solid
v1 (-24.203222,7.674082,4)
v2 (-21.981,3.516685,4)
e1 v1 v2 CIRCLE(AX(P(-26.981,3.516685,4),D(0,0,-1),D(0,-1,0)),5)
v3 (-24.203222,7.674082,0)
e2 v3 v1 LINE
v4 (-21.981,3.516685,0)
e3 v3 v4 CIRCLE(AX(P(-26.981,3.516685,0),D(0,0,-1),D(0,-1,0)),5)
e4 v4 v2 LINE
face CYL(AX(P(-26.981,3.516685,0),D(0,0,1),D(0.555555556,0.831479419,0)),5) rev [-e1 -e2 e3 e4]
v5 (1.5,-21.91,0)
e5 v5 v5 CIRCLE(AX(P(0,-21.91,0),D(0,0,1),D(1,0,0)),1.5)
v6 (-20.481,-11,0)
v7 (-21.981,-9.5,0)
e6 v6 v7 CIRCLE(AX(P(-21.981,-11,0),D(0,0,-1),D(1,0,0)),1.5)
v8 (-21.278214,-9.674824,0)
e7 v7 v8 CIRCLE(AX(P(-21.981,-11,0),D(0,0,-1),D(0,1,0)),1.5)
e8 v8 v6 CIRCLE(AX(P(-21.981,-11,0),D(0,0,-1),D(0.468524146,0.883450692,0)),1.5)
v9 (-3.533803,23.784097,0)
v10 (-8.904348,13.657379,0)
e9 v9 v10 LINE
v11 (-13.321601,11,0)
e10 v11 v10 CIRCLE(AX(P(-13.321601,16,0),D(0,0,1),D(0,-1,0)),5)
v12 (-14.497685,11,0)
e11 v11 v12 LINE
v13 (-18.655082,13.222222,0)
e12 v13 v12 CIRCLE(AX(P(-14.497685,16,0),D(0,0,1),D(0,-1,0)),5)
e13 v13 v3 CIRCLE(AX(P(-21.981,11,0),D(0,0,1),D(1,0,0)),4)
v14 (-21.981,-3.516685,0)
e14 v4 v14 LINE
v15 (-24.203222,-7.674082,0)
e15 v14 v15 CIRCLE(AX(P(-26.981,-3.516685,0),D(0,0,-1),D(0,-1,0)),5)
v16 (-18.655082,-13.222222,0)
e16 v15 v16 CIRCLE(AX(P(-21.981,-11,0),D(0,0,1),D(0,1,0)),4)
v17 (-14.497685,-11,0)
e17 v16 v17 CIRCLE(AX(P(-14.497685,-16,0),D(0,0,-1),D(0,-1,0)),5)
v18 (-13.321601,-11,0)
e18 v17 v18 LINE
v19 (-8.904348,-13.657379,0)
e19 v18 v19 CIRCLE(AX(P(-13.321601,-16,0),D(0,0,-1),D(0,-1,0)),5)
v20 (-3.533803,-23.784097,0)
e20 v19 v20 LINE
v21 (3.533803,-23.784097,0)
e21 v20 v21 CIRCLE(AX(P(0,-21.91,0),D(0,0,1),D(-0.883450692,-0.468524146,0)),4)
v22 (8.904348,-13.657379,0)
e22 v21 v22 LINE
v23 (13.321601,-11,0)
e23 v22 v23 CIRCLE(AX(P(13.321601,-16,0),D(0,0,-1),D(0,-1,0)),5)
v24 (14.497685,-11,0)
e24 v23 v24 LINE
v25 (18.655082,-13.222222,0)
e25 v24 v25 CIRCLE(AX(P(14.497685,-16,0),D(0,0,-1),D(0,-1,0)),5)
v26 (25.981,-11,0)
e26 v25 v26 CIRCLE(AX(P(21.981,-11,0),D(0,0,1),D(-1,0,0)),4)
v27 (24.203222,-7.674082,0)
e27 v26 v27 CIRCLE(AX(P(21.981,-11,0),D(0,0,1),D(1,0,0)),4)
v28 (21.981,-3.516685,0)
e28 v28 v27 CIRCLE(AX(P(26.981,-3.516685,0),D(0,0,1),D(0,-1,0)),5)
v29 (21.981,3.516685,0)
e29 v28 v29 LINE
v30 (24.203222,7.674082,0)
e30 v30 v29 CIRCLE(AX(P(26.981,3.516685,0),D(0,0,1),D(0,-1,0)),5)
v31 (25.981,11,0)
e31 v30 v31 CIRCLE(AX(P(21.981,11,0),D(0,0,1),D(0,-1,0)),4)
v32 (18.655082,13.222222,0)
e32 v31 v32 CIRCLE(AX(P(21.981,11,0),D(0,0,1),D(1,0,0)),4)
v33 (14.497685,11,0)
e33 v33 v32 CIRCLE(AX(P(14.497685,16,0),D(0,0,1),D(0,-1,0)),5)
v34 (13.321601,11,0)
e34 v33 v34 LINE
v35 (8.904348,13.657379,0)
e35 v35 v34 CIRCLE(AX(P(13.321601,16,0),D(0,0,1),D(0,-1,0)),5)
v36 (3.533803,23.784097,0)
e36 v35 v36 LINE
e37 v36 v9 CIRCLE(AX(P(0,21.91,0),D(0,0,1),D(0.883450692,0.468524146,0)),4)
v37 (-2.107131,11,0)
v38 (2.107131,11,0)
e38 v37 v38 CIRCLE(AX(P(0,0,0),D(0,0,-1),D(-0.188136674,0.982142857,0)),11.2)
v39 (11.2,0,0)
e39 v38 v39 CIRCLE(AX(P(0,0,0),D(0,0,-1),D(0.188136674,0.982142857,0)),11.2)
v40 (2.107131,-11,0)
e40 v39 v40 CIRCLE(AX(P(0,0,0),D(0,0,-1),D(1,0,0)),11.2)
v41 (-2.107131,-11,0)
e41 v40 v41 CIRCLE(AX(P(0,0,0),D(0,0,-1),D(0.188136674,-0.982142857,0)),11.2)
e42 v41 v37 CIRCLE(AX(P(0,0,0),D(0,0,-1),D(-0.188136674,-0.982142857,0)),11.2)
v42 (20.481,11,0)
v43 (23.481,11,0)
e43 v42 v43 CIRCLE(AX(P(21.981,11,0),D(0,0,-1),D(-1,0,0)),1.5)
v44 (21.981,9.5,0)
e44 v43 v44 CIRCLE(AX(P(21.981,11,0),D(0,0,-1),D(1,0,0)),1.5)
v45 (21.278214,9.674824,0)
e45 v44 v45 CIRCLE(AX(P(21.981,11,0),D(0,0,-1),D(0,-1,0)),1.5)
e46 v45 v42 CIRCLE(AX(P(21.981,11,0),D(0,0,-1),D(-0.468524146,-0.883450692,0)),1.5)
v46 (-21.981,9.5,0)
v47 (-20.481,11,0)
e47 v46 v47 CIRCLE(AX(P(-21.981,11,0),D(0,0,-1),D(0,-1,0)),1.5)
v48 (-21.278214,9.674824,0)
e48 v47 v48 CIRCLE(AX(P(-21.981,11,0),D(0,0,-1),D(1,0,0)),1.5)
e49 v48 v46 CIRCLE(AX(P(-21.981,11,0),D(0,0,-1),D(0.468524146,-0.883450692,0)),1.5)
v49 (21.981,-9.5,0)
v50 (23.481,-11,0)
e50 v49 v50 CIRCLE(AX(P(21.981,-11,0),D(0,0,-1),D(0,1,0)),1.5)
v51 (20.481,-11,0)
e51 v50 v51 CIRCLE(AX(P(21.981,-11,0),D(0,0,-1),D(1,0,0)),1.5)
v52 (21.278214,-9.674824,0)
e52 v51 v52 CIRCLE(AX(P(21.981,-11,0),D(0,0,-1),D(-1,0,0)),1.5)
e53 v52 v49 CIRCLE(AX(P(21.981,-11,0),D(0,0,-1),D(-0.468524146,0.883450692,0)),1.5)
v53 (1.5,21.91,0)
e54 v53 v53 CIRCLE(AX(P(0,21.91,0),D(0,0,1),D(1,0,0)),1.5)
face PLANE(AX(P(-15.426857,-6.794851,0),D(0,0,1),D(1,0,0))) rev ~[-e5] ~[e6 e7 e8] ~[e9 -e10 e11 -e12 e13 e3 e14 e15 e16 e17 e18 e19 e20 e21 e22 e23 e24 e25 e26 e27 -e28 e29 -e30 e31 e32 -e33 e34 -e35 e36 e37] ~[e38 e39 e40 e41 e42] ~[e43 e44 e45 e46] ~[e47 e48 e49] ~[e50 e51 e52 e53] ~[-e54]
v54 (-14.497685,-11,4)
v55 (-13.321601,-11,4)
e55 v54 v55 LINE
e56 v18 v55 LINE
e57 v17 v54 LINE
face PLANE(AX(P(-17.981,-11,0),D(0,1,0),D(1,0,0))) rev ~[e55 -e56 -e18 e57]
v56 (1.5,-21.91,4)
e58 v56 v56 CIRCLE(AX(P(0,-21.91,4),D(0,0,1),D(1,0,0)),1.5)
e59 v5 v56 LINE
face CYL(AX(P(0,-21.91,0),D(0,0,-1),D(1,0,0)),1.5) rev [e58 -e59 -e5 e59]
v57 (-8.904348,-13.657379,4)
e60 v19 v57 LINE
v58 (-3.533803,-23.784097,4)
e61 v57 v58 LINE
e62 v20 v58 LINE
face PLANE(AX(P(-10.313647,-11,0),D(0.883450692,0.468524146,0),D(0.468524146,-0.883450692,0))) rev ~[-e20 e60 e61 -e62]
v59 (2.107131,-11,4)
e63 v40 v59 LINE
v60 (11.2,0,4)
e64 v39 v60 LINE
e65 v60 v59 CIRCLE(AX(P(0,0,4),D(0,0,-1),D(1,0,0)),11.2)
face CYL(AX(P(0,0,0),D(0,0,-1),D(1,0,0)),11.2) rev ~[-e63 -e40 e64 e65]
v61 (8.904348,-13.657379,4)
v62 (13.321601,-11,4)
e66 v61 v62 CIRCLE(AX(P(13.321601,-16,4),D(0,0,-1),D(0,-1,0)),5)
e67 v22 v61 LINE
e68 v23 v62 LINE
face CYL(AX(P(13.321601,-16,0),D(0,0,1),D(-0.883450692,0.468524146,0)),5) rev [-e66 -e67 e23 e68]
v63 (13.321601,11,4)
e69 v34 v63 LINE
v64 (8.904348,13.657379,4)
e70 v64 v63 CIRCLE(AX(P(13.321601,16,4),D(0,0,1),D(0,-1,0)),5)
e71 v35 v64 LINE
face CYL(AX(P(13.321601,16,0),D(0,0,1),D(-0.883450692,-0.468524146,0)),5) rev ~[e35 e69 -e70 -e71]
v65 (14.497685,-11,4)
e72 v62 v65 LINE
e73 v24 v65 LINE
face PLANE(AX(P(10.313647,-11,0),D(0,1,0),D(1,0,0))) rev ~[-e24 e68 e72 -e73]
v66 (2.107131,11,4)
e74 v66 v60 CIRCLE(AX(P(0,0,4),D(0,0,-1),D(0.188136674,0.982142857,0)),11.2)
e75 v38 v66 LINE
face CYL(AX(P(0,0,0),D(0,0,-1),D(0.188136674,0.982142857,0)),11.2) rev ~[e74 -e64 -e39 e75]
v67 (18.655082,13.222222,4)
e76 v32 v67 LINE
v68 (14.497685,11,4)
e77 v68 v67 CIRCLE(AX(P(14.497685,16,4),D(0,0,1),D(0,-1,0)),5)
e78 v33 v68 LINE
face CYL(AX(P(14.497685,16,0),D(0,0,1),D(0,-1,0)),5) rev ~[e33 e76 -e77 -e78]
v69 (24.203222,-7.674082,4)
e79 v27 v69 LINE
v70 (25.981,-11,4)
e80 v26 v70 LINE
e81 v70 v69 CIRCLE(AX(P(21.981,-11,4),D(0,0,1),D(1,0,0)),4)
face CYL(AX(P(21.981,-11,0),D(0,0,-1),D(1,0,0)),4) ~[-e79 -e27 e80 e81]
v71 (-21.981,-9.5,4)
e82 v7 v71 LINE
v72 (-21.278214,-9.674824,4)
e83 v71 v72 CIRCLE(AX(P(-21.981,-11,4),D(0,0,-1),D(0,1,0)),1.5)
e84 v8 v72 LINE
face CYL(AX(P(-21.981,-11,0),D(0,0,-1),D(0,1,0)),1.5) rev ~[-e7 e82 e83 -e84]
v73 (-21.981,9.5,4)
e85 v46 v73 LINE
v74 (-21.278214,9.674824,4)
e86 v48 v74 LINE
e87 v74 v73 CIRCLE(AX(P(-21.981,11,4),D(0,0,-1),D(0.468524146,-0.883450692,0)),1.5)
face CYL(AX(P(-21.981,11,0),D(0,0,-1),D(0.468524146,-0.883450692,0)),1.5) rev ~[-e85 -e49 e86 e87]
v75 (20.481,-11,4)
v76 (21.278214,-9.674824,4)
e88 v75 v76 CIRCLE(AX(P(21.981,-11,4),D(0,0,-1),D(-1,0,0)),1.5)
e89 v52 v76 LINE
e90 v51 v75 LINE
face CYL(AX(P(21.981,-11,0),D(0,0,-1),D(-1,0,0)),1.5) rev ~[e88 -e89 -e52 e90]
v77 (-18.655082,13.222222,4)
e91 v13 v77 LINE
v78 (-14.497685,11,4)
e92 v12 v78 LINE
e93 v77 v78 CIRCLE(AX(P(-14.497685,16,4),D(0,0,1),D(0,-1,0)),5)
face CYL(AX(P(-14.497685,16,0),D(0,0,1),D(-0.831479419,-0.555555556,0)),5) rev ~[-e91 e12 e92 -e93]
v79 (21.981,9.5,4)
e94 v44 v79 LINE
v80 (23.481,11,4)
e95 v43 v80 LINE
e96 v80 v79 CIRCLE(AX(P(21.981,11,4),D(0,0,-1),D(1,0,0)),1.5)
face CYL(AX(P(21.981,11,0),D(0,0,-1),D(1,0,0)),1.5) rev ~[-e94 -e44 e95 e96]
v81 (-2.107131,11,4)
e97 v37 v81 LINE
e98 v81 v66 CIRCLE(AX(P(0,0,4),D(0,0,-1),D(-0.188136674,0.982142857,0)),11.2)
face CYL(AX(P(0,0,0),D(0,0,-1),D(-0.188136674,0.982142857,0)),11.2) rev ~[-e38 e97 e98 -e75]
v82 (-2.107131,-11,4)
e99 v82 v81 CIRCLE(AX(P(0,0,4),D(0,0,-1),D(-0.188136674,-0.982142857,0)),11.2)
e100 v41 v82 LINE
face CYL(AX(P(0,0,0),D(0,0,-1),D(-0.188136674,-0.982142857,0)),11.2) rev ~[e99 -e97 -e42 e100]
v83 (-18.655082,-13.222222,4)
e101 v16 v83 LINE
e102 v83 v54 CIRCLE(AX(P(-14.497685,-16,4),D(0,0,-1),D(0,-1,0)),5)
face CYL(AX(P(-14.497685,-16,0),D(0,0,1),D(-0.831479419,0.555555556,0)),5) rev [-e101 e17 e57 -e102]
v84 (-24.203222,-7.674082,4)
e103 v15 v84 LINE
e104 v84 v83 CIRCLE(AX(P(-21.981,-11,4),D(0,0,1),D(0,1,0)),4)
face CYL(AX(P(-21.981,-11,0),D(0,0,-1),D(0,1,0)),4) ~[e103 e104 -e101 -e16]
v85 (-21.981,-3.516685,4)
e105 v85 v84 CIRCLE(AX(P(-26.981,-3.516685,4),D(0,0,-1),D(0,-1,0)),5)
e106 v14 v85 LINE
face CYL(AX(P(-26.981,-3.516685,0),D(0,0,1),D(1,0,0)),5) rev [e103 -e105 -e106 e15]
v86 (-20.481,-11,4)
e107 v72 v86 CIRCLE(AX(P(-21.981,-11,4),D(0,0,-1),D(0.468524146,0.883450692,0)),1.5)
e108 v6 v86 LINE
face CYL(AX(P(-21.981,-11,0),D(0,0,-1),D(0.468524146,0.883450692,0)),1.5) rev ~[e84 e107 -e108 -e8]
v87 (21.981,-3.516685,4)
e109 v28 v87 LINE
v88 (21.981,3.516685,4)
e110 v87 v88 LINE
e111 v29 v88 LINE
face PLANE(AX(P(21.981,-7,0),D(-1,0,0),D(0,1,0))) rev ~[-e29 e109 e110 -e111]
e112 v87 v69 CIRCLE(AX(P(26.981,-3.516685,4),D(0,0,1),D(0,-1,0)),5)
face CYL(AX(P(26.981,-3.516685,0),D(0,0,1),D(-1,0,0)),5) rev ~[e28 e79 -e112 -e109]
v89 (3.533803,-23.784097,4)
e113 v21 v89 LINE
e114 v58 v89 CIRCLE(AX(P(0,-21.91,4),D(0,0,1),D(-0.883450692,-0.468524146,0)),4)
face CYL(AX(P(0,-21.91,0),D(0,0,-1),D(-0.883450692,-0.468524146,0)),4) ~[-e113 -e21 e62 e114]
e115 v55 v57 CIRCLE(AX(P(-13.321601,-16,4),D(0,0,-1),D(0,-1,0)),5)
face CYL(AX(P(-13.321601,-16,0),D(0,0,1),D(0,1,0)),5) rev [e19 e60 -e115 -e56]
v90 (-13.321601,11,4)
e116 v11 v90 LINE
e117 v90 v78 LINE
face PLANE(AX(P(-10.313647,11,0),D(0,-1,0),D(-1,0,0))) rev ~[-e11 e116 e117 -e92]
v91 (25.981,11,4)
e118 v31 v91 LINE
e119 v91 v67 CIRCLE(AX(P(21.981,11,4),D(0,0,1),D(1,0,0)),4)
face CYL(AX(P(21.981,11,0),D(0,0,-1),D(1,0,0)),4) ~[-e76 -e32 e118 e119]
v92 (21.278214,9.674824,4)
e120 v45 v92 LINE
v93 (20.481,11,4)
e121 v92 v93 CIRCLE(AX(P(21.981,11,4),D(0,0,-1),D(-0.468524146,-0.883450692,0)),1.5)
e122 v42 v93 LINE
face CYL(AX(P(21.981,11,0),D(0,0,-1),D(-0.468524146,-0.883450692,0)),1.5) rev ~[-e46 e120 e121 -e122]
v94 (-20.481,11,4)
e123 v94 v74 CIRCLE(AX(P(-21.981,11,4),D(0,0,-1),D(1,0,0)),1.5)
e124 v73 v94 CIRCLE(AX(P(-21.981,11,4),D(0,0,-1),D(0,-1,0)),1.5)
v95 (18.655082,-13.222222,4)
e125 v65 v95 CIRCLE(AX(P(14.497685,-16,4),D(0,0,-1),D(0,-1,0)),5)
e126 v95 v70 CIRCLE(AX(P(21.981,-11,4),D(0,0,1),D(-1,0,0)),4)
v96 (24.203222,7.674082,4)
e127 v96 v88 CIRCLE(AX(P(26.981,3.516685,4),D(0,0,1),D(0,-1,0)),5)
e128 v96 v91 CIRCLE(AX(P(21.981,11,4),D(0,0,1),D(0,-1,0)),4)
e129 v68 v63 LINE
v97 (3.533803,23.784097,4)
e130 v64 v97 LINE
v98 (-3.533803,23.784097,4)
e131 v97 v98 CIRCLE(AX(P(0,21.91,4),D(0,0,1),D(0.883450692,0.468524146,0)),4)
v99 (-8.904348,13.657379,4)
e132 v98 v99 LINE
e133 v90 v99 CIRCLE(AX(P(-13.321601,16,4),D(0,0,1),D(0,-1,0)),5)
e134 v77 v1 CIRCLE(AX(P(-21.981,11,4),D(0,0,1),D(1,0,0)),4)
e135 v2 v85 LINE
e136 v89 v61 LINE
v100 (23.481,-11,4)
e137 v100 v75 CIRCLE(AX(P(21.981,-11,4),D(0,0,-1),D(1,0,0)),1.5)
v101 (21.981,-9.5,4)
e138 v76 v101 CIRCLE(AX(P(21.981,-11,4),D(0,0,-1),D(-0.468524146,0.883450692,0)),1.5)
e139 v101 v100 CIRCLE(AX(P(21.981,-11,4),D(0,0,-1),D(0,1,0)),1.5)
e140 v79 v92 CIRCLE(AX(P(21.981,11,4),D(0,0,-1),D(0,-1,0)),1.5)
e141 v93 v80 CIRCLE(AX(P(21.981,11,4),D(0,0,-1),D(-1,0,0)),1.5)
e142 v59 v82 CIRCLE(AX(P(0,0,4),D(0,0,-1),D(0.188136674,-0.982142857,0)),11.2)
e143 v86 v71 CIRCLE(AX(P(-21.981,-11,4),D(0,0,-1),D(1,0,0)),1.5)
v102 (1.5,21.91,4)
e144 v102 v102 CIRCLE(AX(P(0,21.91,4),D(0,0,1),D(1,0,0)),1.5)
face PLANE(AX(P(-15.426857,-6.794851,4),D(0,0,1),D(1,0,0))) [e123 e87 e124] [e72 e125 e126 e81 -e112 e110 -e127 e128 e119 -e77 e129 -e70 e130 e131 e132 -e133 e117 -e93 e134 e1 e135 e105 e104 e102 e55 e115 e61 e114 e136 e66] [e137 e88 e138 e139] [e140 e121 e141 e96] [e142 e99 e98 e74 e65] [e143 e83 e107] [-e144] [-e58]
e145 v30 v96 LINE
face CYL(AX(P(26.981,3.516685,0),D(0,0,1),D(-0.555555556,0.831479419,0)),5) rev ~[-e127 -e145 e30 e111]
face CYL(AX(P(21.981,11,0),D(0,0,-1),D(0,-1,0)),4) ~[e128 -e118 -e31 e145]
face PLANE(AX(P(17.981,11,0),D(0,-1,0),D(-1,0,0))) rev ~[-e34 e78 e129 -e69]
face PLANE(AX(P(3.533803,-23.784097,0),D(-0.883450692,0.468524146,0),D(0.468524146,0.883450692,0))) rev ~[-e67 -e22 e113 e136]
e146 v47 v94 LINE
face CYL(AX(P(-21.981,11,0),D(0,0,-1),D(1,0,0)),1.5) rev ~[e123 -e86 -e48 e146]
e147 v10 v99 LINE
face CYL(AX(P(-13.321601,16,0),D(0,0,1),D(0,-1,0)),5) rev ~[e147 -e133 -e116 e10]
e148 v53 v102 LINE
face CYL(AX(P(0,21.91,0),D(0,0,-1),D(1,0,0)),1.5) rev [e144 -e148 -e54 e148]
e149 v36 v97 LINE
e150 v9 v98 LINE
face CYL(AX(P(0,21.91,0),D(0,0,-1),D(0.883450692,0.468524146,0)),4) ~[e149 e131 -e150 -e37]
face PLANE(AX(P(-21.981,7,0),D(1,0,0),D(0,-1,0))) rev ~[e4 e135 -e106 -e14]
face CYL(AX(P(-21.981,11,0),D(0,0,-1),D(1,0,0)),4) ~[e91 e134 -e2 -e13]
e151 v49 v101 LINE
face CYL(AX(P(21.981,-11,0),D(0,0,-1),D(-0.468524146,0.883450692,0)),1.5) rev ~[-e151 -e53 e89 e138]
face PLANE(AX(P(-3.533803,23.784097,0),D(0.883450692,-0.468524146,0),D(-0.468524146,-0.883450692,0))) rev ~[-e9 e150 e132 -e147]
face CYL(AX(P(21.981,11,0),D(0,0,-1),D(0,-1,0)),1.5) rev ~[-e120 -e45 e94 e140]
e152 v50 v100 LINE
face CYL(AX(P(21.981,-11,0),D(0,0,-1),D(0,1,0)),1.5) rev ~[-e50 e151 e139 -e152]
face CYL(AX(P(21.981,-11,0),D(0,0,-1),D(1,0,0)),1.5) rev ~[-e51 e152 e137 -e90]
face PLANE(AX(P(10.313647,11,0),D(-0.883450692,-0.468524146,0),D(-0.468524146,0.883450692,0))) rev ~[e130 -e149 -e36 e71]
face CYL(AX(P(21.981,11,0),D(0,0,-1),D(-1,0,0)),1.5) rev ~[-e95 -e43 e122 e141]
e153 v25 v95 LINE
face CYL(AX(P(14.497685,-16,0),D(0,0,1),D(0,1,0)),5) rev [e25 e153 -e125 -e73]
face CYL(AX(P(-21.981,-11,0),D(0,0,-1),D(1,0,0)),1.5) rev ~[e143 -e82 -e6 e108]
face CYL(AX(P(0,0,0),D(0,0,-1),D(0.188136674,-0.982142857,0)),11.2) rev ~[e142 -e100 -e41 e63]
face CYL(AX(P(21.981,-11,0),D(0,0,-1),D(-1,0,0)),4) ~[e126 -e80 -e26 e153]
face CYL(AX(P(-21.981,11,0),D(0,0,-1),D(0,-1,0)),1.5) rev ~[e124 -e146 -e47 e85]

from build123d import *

# Parameters (mm, degrees)
F0_R     = 1.5
F1_DEPTH = 4
F2_R     = 5


with BuildPart() as f1:
    # F0 (on Top) → F1 (new body)
    with BuildSketch(Plane.XY):
        with BuildLine():
            Line((-17.981, -11), (-10.3136468418, -11))
            Line((-10.3136468418, -11), (-16.1473234209, 0))
            Line((-16.1473234209, 0), (-20.1069034152, -7.4661972337))
            ThreePointArc((-20.1069034152, -7.4661972337), (-18.5534362632, -8.938009013), (-17.981, -11))
        make_face()
        with BuildLine():
            Line((-20.1069034152, -7.4661972337), (-16.1473234209, 0))
            Line((-16.1473234209, 0), (-20.1069034152, 7.4661972337))
            ThreePointArc((-20.1069034152, 7.4661972337), (-21.0153942484, 7.1182986291), (-21.981, 7))
            Line((-21.981, 7), (-21.981, -7))
            ThreePointArc((-21.981, -7), (-21.0153942484, -7.1182986291), (-20.1069034152, -7.4661972337))
        make_face()
        with BuildLine():
            Line((-16.1473234209, 0), (-10.3136468418, 11))
            Line((-10.3136468418, 11), (-17.981, 11))
            ThreePointArc((-17.981, 11), (-18.5534362632, 8.938009013), (-20.1069034152, 7.4661972337))
            Line((-20.1069034152, 7.4661972337), (-16.1473234209, 0))
        make_face()
        with BuildLine():
            ThreePointArc((-20.1069034152, 7.4661972337), (-18.5534362632, 8.938009013), (-17.981, 11))
            Line((-17.981, 11), (-20.481, 11))
            ThreePointArc((-20.481, 11), (-20.6956635987, 10.2267533799), (-21.2782137807, 9.6748239626))
            Line((-21.2782137807, 9.6748239626), (-20.1069034152, 7.4661972337))
        make_face()
        with BuildLine():
            Line((-20.481, 11), (-17.981, 11))
            ThreePointArc((-17.981, 11), (-24.8094271247, 13.8284271247), (-21.981, 7))
            Line((-21.981, 7), (-21.981, 9.5))
            ThreePointArc((-21.981, 9.5), (-23.0416601718, 12.0606601718), (-20.481, 11))
        make_face()
        with BuildLine():
            ThreePointArc((-21.981, 7), (-21.0153942484, 7.1182986291), (-20.1069034152, 7.4661972337))
            Line((-20.1069034152, 7.4661972337), (-21.2782137807, 9.6748239626))
            ThreePointArc((-21.2782137807, 9.6748239626), (-21.6188978432, 9.5443619859), (-21.981, 9.5))
            Line((-21.981, 9.5), (-21.981, 7))
        make_face()
        with BuildLine():
            Line((-21.2782137807, -9.6748239626), (-20.1069034152, -7.4661972337))
            ThreePointArc((-20.1069034152, -7.4661972337), (-21.0153942484, -7.1182986291), (-21.981, -7))
            Line((-21.981, -7), (-21.981, -9.5))
            ThreePointArc((-21.981, -9.5), (-21.6188978432, -9.5443619859), (-21.2782137807, -9.6748239626))
        make_face()
        with BuildLine():
            Line((-20.481, -11), (-17.981, -11))
            ThreePointArc((-17.981, -11), (-18.5534362632, -8.938009013), (-20.1069034152, -7.4661972337))
            Line((-20.1069034152, -7.4661972337), (-21.2782137807, -9.6748239626))
            ThreePointArc((-21.2782137807, -9.6748239626), (-20.6956635987, -10.2267533799), (-20.481, -11))
        make_face()
        with BuildLine():
            ThreePointArc((-21.981, -7), (-24.8094271247, -13.8284271247), (-17.981, -11))
            Line((-17.981, -11), (-20.481, -11))
            ThreePointArc((-20.481, -11), (-23.0416601718, -12.0606601718), (-21.981, -9.5))
            Line((-21.981, -9.5), (-21.981, -7))
        make_face()
        with BuildLine():
            Line((17.981, -11), (20.481, -11))
            ThreePointArc((20.481, -11), (20.6956635987, -10.2267533799), (21.2782137807, -9.6748239626))
            Line((21.2782137807, -9.6748239626), (20.1069034152, -7.4661972337))
            ThreePointArc((20.1069034152, -7.4661972337), (18.5534362632, -8.938009013), (17.981, -11))
        make_face()
        with BuildLine():
            ThreePointArc((21.2782137807, -9.6748239626), (21.6188978432, -9.5443619859), (21.981, -9.5))
            Line((21.981, -9.5), (21.981, -7))
            ThreePointArc((21.981, -7), (21.0153942484, -7.1182986291), (20.1069034152, -7.4661972337))
            Line((20.1069034152, -7.4661972337), (21.2782137807, -9.6748239626))
        make_face()
        with BuildLine():
            ThreePointArc((23.481, -11), (21.981, -12.5), (20.481, -11))
            Line((20.481, -11), (17.981, -11))
            ThreePointArc((17.981, -11), (21.981, -15), (25.981, -11))
            ThreePointArc((25.981, -11), (24.8094271247, -8.1715728753), (21.981, -7))
            Line((21.981, -7), (21.981, -9.5))
            ThreePointArc((21.981, -9.5), (23.0416601718, -9.9393398282), (23.481, -11))
        make_face()
        with BuildLine():
            ThreePointArc((17.981, 11), (18.5534362632, 8.938009013), (20.1069034152, 7.4661972337))
            Line((20.1069034152, 7.4661972337), (21.2782137807, 9.6748239626))
            ThreePointArc((21.2782137807, 9.6748239626), (20.6956635987, 10.2267533799), (20.481, 11))
            Line((20.481, 11), (17.981, 11))
        make_face()
        with BuildLine():
            ThreePointArc((20.1069034152, 7.4661972337), (21.0153942484, 7.1182986291), (21.981, 7))
            Line((21.981, 7), (21.981, 9.5))
            ThreePointArc((21.981, 9.5), (21.6188978432, 9.5443619859), (21.2782137807, 9.6748239626))
            Line((21.2782137807, 9.6748239626), (20.1069034152, 7.4661972337))
        make_face()
        with BuildLine():
            Line((21.981, 9.5), (21.981, 7))
            ThreePointArc((21.981, 7), (24.8094271247, 8.1715728753), (25.981, 11))
            ThreePointArc((25.981, 11), (21.981, 15), (17.981, 11))
            Line((17.981, 11), (20.481, 11))
            ThreePointArc((20.481, 11), (21.981, 12.5), (23.481, 11))
            ThreePointArc((23.481, 11), (23.0416601718, 9.9393398282), (21.981, 9.5))
        make_face()
        with BuildLine():
            ThreePointArc((20.1069034152, -7.4661972337), (21.0153942484, -7.1182986291), (21.981, -7))
            Line((21.981, -7), (21.981, 7))
            ThreePointArc((21.981, 7), (21.0153942484, 7.1182986291), (20.1069034152, 7.4661972337))
            Line((20.1069034152, 7.4661972337), (16.1473234209, 0))
            Line((16.1473234209, 0), (20.1069034152, -7.4661972337))
        make_face()
        with BuildLine():
            Line((10.3136468418, 11), (16.1473234209, 0))
            Line((16.1473234209, 0), (20.1069034152, 7.4661972337))
            ThreePointArc((20.1069034152, 7.4661972337), (18.5534362632, 8.938009013), (17.981, 11))
            Line((17.981, 11), (10.3136468418, 11))
        make_face()
        with BuildLine():
            Line((10.3136468418, -11), (17.981, -11))
            ThreePointArc((17.981, -11), (18.5534362632, -8.938009013), (20.1069034152, -7.4661972337))
            Line((20.1069034152, -7.4661972337), (16.1473234209, 0))
            Line((16.1473234209, 0), (10.3136468418, -11))
        make_face()
        with BuildLine():
            Line((2.1071307506, -11), (10.3136468418, -11))
            Line((10.3136468418, -11), (16.1473234209, 0))
            Line((16.1473234209, 0), (10.3136468418, 11))
            Line((10.3136468418, 11), (2.1071307506, 11))
            ThreePointArc((2.1071307506, 11), (8.6324928151, 7.1358298604), (11.2, 0))
            ThreePointArc((11.2, 0), (8.6324928151, -7.1358298604), (2.1071307506, -11))
        make_face()
        with BuildLine():
            Line((-10.3136468418, -11), (-2.1071307506, -11))
            ThreePointArc((-2.1071307506, -11), (-11.2, 0), (-2.1071307506, 11))
            Line((-2.1071307506, 11), (-10.3136468418, 11))
            Line((-10.3136468418, 11), (-16.1473234209, 0))
            Line((-16.1473234209, 0), (-10.3136468418, -11))
        make_face()
        with BuildLine():
            Line((3.5338027663, -23.7840965848), (10.3136468418, -11))
            Line((10.3136468418, -11), (2.1071307506, -11))
            ThreePointArc((2.1071307506, -11), (0, -11.2), (-2.1071307506, -11))
            Line((-2.1071307506, -11), (-10.3136468418, -11))
            Line((-10.3136468418, -11), (-3.5338027663, -23.7840965848))
            ThreePointArc((-3.5338027663, -23.7840965848), (-0.9656057516, -18.0282986291), (4, -21.91))
            ThreePointArc((4, -21.91), (3.8817013709, -22.8756057516), (3.5338027663, -23.7840965848))
        make_face()
        with BuildLine():
            Line((2.1071307506, 11), (10.3136468418, 11))
            Line((10.3136468418, 11), (3.5338027663, 23.7840965848))
            ThreePointArc((3.5338027663, 23.7840965848), (3.8817013709, 22.8756057516), (4, 21.91))
            ThreePointArc((4, 21.91), (-0.9656057516, 18.0282986291), (-3.5338027663, 23.7840965848))
            Line((-3.5338027663, 23.7840965848), (-10.3136468418, 11))
            Line((-10.3136468418, 11), (-2.1071307506, 11))
            ThreePointArc((-2.1071307506, 11), (0, 11.2), (2.1071307506, 11))
        make_face()
        with BuildLine():
            ThreePointArc((4, 21.91), (3.8817013709, 22.8756057516), (3.5338027663, 23.7840965848))
            ThreePointArc((3.5338027663, 23.7840965848), (0, 25.91), (-3.5338027663, 23.7840965848))
            ThreePointArc((-3.5338027663, 23.7840965848), (-0.9656057516, 18.0282986291), (4, 21.91))
        make_face()
        with Locations((0, 21.91)):
            Circle(F0_R, mode=Mode.SUBTRACT)
        with BuildLine():
            ThreePointArc((-3.5338027663, -23.7840965848), (0, -25.91), (3.5338027663, -23.7840965848))
            ThreePointArc((3.5338027663, -23.7840965848), (3.8817013709, -22.8756057516), (4, -21.91))
            ThreePointArc((4, -21.91), (-0.9656057516, -18.0282986291), (-3.5338027663, -23.7840965848))
        make_face()
        with Locations((0, -21.91)):
            Circle(F0_R, mode=Mode.SUBTRACT)
    extrude(amount=F1_DEPTH)

    # F2
    f2_edges = [f1.edges().sort_by_distance(p)[0] for p in [
        (-17.981, -11, 2),
        (-10.313647, -11, 2),
        (-21.981, 7, 2),
        (-21.981, -7, 2),
        (-17.981, 11, 2),
        (-10.313647, 11, 2),
        (10.313647, 11, 2),
        (17.981, 11, 2),
        (21.981, 7, 2),
        (21.981, -7, 2),
        (17.981, -11, 2),
        (10.313647, -11, 2),
    ]]
    fillet(f2_edges, radius=F2_R)


solid = f1.part
